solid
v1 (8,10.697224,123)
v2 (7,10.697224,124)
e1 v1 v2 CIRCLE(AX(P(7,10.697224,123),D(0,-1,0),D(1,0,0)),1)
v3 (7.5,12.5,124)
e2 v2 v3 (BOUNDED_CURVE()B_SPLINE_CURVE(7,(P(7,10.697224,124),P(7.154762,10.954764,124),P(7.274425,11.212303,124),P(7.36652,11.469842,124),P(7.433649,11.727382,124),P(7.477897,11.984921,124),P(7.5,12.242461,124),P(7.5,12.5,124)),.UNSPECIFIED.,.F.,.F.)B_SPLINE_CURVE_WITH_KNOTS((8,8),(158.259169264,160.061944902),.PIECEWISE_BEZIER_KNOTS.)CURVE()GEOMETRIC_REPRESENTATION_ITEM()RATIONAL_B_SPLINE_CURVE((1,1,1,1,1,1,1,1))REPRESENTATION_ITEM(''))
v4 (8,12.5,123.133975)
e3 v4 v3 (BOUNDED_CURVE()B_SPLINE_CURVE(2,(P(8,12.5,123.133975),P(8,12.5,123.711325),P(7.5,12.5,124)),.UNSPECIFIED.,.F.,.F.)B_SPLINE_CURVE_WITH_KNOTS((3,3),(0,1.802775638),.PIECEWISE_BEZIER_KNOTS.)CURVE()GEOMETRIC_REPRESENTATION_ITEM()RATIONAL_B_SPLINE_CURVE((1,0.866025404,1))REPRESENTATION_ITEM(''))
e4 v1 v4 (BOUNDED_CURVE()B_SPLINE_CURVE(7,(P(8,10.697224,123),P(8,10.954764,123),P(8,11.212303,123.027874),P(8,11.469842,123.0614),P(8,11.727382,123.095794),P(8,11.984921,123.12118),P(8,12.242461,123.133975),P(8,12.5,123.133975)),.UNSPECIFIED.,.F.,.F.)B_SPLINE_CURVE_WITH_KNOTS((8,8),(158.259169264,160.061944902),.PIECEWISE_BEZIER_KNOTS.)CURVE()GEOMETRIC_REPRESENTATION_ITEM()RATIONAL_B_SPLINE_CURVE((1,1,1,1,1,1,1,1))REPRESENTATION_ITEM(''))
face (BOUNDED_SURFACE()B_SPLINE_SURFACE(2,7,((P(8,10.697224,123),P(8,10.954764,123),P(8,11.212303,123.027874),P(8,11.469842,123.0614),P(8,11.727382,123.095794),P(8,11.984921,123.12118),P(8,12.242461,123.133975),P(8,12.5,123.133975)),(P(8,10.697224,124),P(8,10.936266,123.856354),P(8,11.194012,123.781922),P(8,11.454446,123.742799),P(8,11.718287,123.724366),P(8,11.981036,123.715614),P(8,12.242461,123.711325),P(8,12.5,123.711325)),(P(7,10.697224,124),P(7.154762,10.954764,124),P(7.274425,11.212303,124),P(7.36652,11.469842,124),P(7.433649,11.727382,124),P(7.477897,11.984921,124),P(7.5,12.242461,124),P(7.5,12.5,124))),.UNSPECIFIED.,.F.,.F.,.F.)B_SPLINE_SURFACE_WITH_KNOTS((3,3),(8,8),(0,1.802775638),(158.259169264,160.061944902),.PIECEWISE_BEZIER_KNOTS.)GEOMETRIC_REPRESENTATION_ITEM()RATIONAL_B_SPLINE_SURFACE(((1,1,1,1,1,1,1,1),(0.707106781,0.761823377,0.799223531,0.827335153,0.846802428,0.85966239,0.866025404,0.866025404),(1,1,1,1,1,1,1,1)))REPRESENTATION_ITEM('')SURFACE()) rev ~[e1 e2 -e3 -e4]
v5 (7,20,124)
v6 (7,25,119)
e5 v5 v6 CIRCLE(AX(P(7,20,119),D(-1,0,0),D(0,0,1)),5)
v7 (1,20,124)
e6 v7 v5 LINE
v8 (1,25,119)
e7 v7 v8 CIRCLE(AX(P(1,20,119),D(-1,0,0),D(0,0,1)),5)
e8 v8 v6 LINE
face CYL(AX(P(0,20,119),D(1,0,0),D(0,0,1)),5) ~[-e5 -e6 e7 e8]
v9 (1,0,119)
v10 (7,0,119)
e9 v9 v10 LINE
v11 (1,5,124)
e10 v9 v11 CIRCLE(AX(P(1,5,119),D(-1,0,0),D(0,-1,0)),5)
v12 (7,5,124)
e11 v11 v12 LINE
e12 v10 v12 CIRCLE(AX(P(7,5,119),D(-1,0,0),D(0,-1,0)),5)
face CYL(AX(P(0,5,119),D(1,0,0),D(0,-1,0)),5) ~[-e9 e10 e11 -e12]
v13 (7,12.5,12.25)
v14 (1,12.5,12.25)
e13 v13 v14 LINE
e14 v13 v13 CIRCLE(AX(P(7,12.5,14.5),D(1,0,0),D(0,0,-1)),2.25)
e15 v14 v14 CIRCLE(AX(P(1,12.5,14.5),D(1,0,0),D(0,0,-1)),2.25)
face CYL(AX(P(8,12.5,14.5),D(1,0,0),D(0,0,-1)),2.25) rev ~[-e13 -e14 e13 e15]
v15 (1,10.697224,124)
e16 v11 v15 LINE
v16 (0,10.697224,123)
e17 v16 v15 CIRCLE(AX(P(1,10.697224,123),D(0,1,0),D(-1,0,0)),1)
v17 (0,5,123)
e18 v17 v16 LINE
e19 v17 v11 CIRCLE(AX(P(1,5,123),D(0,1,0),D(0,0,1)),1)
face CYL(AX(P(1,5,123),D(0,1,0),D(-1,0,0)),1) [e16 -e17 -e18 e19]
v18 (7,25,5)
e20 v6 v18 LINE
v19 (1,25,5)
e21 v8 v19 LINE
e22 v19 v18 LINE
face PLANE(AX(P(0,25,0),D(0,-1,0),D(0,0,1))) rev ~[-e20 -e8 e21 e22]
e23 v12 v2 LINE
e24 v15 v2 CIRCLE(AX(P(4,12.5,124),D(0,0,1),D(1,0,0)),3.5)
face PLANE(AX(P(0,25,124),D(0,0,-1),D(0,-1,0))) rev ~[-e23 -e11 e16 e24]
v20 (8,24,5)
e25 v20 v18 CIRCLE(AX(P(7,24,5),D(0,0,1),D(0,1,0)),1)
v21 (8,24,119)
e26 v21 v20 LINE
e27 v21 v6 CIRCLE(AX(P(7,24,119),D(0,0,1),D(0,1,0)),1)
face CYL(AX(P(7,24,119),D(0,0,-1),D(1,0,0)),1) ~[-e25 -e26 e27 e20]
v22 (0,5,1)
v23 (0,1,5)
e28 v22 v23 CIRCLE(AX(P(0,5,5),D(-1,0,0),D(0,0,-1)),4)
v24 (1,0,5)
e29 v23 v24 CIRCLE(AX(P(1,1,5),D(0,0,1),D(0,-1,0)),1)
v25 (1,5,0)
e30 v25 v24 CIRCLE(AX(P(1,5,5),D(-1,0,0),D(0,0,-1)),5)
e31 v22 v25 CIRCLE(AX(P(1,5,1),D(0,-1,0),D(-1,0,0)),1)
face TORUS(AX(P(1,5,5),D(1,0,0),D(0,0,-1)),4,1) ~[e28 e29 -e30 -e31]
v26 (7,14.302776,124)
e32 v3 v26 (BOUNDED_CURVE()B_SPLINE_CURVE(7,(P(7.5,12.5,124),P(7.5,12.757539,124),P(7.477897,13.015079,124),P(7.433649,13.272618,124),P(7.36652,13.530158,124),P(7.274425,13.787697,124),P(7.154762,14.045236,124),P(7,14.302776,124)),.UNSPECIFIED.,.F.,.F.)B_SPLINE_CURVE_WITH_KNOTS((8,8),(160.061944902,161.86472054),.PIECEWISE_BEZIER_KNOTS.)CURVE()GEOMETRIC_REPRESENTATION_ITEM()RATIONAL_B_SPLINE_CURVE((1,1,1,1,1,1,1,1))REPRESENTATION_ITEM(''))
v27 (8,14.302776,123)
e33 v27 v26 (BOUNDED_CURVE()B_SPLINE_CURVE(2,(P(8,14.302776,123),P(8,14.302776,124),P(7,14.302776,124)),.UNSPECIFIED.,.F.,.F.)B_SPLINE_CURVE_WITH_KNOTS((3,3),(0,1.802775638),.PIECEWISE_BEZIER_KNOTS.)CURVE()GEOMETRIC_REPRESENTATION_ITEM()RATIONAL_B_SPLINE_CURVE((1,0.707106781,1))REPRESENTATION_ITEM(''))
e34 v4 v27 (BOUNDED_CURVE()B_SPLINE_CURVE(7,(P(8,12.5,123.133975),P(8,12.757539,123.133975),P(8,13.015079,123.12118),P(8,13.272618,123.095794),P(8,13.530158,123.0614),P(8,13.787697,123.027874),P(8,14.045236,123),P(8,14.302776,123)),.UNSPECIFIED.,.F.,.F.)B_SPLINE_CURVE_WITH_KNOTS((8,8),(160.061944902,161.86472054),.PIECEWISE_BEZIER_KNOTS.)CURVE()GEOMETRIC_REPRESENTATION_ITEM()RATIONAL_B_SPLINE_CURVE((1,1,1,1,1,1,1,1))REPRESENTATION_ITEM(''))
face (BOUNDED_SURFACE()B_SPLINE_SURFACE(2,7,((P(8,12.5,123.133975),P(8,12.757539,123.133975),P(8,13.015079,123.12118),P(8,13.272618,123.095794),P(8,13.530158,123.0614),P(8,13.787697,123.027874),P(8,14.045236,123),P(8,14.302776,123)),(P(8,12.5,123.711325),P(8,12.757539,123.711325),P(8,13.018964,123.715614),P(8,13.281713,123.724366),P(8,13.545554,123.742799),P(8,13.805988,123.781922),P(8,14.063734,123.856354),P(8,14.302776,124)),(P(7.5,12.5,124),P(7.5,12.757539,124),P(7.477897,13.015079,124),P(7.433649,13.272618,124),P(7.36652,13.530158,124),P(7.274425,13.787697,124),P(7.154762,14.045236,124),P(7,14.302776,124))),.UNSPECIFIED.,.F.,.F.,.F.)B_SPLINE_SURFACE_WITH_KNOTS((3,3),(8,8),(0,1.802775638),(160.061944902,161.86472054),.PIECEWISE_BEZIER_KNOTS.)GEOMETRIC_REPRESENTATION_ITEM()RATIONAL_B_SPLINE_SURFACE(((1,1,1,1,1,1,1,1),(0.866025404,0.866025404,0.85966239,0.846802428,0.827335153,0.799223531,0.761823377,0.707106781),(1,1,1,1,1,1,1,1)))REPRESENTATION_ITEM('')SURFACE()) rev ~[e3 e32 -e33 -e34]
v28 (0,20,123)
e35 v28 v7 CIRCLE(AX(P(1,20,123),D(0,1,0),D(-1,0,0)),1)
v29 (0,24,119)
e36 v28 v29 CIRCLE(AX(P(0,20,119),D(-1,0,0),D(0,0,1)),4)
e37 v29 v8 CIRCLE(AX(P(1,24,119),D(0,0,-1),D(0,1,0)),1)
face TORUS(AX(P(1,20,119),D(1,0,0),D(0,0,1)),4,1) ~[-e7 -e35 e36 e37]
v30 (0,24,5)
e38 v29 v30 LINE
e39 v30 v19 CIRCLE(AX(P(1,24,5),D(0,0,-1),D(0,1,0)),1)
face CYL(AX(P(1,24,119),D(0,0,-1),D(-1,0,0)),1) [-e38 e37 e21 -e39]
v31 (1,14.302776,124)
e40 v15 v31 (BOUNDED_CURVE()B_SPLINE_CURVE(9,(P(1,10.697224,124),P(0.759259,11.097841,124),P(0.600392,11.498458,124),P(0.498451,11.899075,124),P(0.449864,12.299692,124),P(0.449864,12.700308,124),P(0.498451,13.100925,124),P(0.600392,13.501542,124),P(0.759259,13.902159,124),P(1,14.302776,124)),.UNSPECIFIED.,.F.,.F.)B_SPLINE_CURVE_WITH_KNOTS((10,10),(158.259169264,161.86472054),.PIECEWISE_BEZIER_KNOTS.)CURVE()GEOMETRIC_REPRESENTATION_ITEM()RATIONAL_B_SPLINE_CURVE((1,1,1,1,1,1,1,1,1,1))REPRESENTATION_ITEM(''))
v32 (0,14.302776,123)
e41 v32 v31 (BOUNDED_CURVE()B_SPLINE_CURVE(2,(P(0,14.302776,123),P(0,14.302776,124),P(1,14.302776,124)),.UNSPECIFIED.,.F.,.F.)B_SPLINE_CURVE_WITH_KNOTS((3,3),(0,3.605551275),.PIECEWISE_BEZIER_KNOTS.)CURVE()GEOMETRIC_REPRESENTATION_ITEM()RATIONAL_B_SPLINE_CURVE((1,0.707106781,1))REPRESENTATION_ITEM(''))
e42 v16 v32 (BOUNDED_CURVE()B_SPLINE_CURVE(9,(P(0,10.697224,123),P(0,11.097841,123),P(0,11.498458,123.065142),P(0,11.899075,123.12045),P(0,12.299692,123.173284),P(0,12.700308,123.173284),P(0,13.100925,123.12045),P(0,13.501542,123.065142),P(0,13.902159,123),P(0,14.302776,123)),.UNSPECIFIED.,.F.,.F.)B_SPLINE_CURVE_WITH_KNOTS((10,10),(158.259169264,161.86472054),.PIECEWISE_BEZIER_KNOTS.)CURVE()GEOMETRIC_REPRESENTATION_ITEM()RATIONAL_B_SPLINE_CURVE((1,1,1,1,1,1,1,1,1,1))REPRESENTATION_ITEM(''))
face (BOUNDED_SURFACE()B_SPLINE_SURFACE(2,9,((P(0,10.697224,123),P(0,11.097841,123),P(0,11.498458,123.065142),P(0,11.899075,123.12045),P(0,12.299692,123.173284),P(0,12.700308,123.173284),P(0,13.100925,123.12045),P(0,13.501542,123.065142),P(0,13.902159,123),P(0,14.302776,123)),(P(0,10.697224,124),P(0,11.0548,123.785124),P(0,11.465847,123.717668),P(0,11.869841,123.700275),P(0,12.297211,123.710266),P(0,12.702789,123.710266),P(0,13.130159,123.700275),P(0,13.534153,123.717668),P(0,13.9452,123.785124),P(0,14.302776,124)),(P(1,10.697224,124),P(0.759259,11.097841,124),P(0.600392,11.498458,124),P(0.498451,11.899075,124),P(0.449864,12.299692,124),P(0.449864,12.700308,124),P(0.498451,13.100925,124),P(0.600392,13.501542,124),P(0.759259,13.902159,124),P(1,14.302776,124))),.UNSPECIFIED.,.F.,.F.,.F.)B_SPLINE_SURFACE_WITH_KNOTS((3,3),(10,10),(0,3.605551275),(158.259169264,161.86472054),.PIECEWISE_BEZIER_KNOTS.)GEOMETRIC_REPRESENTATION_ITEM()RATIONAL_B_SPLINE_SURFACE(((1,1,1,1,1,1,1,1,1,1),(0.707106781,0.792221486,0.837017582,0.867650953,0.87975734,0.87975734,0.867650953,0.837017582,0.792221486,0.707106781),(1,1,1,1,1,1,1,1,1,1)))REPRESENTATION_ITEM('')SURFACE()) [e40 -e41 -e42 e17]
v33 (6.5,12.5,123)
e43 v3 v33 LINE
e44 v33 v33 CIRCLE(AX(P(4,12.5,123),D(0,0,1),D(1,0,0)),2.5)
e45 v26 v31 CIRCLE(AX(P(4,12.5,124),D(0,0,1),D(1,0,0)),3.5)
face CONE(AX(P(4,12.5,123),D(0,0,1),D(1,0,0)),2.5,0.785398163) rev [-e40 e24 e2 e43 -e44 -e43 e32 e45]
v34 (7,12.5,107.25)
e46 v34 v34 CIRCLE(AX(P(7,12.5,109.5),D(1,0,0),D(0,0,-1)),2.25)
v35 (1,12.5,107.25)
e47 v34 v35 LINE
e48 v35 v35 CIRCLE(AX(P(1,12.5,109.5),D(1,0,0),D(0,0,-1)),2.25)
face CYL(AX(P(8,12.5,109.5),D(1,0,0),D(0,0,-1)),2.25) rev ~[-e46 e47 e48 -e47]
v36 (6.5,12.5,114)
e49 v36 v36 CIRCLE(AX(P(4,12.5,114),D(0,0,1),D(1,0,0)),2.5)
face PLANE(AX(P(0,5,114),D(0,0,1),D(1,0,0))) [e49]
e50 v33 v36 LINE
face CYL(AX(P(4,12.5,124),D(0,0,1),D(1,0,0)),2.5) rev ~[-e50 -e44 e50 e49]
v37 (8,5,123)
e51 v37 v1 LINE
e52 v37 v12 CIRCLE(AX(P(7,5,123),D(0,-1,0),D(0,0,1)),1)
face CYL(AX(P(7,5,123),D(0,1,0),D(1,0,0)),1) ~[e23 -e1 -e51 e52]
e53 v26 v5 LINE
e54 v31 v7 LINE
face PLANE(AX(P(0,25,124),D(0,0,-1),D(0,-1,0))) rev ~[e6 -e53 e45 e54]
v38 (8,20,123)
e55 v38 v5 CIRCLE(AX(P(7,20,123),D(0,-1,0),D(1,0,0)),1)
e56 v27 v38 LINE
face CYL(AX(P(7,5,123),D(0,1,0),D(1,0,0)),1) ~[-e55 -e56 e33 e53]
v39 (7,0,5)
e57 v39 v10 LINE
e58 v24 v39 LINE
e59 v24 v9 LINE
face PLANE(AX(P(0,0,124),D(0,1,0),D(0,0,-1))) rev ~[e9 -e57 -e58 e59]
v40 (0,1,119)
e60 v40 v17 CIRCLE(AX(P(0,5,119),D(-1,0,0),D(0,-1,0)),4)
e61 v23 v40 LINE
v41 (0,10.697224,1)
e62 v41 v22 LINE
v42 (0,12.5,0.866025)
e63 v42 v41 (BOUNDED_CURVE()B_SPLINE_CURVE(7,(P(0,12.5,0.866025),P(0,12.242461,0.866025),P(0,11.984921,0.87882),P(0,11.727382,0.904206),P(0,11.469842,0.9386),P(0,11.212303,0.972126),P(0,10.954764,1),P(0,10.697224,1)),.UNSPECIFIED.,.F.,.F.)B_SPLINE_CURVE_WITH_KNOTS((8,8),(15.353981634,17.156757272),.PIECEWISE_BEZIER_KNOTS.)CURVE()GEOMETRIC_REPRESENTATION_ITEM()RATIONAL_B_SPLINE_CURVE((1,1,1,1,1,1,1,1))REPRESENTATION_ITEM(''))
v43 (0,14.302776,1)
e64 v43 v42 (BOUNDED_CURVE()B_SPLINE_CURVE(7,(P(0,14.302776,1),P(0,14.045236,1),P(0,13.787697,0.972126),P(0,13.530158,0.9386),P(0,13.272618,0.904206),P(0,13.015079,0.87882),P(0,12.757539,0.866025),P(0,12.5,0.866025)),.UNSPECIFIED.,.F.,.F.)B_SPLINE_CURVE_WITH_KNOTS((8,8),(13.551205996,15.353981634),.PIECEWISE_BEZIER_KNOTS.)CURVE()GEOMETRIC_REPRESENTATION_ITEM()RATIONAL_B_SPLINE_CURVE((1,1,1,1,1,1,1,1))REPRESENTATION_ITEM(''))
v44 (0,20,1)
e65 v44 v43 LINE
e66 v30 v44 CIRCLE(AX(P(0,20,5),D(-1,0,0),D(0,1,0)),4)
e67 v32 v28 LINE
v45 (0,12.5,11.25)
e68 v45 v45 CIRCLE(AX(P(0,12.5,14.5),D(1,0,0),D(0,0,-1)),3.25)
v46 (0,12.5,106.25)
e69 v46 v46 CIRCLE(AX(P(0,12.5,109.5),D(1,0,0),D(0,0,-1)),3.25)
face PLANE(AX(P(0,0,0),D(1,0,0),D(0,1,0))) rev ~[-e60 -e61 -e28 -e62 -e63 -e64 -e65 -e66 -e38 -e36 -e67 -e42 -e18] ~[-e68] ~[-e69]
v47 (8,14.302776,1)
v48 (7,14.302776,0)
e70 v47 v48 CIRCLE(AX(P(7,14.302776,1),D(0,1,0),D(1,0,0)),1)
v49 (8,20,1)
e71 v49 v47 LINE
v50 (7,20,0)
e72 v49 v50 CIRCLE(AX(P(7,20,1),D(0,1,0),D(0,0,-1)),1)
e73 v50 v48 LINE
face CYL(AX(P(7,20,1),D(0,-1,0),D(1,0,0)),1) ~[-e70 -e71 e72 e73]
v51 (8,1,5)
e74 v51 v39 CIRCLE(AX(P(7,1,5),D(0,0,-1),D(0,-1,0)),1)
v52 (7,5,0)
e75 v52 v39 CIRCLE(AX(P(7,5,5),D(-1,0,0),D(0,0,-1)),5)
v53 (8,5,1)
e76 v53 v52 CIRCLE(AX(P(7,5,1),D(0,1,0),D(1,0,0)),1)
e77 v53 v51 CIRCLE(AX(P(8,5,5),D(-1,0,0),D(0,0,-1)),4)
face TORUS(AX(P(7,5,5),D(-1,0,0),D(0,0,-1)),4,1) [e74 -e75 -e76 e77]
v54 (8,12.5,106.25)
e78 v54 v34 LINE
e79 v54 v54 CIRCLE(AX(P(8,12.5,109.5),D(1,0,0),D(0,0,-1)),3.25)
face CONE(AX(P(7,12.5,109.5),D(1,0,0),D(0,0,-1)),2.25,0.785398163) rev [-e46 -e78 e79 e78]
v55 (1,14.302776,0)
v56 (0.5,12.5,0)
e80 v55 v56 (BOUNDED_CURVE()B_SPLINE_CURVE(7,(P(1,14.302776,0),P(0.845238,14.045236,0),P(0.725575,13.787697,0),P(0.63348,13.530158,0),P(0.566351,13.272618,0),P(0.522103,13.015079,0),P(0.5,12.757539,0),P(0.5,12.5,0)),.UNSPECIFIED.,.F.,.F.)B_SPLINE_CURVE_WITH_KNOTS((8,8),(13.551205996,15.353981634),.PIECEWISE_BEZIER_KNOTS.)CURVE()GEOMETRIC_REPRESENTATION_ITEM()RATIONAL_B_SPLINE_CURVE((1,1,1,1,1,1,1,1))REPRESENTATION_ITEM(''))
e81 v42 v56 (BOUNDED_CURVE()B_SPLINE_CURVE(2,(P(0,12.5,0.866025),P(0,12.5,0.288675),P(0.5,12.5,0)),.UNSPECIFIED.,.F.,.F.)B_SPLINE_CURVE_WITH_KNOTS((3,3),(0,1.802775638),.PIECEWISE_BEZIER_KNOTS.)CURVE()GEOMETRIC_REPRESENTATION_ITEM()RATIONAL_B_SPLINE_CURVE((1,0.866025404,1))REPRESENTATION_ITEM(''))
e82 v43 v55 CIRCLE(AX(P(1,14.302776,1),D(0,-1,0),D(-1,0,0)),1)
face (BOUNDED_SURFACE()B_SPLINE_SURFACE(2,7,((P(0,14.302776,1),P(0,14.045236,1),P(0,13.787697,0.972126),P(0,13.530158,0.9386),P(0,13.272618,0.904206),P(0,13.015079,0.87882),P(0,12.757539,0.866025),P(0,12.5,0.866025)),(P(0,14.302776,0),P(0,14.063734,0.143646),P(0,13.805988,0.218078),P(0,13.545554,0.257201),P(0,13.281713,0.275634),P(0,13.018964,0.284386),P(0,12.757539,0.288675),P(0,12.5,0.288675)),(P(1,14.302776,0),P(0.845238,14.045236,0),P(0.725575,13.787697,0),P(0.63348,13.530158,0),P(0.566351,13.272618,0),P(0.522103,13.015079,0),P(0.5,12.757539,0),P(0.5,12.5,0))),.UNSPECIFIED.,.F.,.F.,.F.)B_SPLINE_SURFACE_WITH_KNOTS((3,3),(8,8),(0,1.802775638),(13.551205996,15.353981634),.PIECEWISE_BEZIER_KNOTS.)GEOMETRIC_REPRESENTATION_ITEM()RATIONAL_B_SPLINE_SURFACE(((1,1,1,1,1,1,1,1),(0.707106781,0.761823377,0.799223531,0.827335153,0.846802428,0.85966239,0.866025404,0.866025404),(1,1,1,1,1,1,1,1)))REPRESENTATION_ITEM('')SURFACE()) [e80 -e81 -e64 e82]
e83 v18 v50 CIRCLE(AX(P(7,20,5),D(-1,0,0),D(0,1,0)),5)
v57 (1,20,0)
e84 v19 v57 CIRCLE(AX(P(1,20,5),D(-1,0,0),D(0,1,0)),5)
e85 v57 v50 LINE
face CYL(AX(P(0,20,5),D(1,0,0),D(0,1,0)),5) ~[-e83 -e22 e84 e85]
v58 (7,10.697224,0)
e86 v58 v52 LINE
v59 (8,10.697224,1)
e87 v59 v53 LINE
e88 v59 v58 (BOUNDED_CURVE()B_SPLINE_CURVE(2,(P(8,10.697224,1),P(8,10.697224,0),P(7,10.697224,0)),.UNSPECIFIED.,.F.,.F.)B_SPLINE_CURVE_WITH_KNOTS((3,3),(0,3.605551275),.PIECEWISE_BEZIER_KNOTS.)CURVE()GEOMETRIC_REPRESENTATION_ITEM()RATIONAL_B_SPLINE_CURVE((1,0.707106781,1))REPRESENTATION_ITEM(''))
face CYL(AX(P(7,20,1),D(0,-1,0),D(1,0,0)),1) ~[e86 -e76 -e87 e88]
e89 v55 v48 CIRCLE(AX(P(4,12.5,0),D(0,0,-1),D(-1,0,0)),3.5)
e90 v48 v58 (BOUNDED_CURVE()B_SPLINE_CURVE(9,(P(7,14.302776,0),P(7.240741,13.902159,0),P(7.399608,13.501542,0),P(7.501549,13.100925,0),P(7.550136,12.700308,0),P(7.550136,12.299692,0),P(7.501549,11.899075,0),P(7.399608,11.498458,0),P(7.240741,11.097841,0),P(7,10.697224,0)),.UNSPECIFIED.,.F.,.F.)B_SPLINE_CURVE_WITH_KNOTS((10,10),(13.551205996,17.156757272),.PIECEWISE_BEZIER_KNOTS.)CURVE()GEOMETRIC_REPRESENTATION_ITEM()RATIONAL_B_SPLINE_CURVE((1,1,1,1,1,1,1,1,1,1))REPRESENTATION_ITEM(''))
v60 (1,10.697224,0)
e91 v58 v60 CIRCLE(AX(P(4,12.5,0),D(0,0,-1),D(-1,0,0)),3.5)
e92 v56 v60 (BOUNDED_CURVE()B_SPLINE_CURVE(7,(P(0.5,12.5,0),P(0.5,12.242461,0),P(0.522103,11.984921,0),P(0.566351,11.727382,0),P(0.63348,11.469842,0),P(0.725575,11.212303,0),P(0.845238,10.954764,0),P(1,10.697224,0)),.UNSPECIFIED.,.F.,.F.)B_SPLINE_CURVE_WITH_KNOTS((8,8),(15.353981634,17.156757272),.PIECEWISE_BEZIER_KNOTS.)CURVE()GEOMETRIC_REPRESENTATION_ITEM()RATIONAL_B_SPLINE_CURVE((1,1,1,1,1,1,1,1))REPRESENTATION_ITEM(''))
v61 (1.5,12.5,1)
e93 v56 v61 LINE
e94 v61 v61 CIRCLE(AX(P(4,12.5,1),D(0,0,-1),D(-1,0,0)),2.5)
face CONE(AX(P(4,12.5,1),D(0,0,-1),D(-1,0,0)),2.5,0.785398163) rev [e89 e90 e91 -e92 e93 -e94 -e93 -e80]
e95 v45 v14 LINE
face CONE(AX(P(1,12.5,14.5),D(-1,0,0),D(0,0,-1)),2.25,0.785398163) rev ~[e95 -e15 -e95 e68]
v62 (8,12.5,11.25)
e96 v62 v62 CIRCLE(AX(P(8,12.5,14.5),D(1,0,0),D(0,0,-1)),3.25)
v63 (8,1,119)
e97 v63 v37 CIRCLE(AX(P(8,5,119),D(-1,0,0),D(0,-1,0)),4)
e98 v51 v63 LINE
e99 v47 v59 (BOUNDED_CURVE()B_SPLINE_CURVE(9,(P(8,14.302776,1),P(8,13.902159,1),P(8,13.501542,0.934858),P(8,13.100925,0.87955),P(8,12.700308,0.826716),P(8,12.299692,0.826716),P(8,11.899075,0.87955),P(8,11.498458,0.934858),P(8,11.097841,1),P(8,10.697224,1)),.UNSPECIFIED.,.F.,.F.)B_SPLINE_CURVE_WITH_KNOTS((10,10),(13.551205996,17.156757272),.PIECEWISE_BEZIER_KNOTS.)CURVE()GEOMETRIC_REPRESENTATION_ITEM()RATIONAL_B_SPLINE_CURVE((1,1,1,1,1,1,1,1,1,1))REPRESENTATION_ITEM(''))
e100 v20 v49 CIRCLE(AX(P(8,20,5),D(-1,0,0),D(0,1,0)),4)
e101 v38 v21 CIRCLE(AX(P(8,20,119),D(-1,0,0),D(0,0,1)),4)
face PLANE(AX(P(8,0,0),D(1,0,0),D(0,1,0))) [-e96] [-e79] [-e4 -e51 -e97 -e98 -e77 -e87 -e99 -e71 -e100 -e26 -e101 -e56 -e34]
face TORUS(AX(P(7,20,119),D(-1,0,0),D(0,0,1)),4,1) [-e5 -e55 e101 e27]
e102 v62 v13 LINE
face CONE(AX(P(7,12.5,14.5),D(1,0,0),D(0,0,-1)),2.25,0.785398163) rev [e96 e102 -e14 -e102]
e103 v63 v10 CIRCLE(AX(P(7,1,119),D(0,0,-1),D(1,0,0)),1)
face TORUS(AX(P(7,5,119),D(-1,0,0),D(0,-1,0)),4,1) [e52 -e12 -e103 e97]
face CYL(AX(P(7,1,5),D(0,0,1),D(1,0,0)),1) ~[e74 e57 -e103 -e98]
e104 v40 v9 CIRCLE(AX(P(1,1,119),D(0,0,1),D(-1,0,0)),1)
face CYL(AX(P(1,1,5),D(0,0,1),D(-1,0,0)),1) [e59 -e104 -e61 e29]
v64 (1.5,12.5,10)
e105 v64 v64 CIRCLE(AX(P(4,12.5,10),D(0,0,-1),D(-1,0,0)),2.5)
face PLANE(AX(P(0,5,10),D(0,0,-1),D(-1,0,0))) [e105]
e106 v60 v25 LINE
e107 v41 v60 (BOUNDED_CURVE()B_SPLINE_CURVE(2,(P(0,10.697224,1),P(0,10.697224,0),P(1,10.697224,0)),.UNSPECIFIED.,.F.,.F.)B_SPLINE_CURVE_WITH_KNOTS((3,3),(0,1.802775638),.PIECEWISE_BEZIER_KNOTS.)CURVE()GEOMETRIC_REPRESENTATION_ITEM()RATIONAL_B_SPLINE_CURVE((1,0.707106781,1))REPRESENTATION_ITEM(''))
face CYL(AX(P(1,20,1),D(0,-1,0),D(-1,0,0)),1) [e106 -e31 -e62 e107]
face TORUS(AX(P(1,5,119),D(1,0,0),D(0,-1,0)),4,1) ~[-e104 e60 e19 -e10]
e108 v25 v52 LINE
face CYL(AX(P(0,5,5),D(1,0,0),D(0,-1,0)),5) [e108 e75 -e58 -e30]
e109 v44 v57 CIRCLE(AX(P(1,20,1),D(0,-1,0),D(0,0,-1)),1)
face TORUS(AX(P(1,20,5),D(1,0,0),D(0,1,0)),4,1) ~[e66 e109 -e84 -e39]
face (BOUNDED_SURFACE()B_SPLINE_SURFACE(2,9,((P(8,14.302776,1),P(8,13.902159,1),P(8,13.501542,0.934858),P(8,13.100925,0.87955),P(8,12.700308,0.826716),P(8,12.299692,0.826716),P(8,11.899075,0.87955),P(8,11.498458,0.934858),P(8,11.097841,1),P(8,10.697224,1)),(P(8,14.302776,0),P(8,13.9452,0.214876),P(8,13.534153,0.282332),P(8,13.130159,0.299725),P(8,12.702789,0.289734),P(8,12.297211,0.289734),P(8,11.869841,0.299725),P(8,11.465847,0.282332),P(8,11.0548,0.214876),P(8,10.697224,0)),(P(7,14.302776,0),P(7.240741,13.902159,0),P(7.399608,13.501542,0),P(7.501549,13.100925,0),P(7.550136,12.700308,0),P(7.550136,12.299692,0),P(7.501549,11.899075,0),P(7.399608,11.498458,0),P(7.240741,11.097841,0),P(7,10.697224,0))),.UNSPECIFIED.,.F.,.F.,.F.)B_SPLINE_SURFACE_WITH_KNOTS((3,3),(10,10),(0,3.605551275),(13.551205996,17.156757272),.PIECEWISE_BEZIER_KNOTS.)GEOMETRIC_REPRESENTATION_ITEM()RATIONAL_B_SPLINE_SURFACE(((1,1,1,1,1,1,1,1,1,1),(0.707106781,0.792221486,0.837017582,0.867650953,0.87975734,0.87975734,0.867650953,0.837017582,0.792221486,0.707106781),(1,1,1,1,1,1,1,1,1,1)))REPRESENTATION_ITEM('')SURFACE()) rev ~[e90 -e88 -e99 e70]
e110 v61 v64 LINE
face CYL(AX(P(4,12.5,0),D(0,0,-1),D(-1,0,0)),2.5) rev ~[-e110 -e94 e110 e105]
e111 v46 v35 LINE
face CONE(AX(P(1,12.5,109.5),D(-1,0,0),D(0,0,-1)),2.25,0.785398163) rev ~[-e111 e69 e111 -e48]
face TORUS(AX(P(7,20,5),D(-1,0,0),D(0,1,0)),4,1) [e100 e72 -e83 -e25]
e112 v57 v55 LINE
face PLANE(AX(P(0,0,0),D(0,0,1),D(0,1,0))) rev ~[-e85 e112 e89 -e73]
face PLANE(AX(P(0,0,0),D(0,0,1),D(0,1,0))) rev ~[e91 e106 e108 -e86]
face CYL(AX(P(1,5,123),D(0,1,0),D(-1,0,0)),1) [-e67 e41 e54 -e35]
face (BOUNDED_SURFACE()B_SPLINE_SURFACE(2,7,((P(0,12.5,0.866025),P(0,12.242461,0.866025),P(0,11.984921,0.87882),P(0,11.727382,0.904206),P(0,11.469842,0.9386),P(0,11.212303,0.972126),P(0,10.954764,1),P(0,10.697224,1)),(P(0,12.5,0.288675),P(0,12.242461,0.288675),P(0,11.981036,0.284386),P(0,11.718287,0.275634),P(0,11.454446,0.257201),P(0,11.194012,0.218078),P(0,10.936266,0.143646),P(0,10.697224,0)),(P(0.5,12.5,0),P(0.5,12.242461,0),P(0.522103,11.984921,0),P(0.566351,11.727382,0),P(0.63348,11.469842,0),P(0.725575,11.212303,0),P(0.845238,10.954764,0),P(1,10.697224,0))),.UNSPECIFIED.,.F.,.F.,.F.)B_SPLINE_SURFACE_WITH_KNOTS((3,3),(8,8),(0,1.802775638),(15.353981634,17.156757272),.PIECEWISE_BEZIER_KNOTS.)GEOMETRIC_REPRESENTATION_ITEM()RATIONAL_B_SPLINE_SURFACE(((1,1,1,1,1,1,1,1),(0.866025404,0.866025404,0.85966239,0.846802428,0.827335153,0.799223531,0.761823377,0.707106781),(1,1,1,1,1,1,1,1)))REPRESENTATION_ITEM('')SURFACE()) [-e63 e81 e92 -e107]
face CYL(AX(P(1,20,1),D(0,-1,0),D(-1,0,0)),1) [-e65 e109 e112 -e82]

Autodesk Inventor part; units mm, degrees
ref_plane "YZ Plane" through (0, 0, 0) normal (1, 0, 0) x (0, 1, 0)
ref_plane "XZ Plane" through (0, 0, 0) normal (0, 1, 0) x (-1, 0, 0)
ref_plane "XY Plane" through (0, 0, 0) normal (0, 0, 1) x (1, 0, 0)
sketch "Skizze1" plane through (0, 0, 0) normal (1, 0, 0) x (0, 1, 0)
  line L0 (0, 0) -> (25, 0)
  line L1 (25, 0) -> (25, 124)
  line L2 (25, 124) -> (0, 124)
  line L3 (0, 124) -> (0, 0)
  dimension "d0" = 25
  dimension "d1" = 124
extrude "Extrusion1" add sketch "Skizze1" along normal blind 8
fillet "Rundung1" radius 5 4 edges at (4, 25, 124) (4, 0, 124) (4, 25, 0) (4, 0, 0)
sketch "Skizze2" plane through (8, 0, 0) normal (1, 0, 0) x (0, 0, -1)
  circle A0 centre (-14.5, 12.5) radius 2.25
  circle A1 centre (-109.5, 12.5) radius 2.25
  line L0 (-124, 20) -> (-124, 5) projected
  line L1 (-5, 25) -> (-119, 25) projected
  point P0 (0, 0)
  dimension "d5" = 4.5
  dimension "d6" = 4.5
  dimension "d7" = 95
  dimension "d8" = 14.5
  dimension "d9" = 12.5
  dimension "d10" = 12.5
extrude "Extrusion2" cut sketch "Skizze2" against normal through all
sketch "Skizze3" plane through (0, 5, 0) normal (0, 0, -1) x (-1, 0, 0)
  circle A0 centre (-4, 7.5) radius 2.5
  line L0 (0, 20) -> (-8, 20) projected
  line L1 (-8, 0) -> (-8, 15) projected
  point P0 (0, -5)
  point P1 (-4, 20)
  dimension "d14" = 5
  dimension "d15" = 12.5
  dimension "d16" = 4
extrude "Extrusion3" cut sketch "Skizze3" against normal blind 10
sketch "Skizze4" plane through (0, 5, 124) normal (0, 0, 1) x (1, 0, 0)
  circle A0 centre (4, 7.5) radius 2.5 projected
  point P0 (0, -5)
extrude "Extrusion4" cut sketch "Skizze4" against normal blind 10
chamfer "Fase1" distance 1 angle 45 2 edges at (1.5, 12.5, 124) (6.5, 12.5, 0)
fillet "Rundung3" radius 1 16 edges at (8, 23.5355, 1.4645) (8, 25, 62) (8, 23.5355, 122.5355) (8, 12.5, 124) (8, 1.4645, 122.5355) (8, 0, 62) (8, 1.4645, 1.4645) (8, 12.5, 0) (0, 23.5355, 1.4645) (0, 25, 62) (0, 23.5355, 122.5355) (0, 12.5, 124) (0, 1.4645, 122.5355) (0, 0, 62) (0, 1.4645, 1.4645) (0, 12.5, 0)
chamfer "Fase2" distance 1 angle 45 4 edges at (8, 12.5, 111.75) (8, 12.5, 16.75) (0, 12.5, 16.75) (0, 12.5, 111.75)
properties part number "Camera_Adapter"
